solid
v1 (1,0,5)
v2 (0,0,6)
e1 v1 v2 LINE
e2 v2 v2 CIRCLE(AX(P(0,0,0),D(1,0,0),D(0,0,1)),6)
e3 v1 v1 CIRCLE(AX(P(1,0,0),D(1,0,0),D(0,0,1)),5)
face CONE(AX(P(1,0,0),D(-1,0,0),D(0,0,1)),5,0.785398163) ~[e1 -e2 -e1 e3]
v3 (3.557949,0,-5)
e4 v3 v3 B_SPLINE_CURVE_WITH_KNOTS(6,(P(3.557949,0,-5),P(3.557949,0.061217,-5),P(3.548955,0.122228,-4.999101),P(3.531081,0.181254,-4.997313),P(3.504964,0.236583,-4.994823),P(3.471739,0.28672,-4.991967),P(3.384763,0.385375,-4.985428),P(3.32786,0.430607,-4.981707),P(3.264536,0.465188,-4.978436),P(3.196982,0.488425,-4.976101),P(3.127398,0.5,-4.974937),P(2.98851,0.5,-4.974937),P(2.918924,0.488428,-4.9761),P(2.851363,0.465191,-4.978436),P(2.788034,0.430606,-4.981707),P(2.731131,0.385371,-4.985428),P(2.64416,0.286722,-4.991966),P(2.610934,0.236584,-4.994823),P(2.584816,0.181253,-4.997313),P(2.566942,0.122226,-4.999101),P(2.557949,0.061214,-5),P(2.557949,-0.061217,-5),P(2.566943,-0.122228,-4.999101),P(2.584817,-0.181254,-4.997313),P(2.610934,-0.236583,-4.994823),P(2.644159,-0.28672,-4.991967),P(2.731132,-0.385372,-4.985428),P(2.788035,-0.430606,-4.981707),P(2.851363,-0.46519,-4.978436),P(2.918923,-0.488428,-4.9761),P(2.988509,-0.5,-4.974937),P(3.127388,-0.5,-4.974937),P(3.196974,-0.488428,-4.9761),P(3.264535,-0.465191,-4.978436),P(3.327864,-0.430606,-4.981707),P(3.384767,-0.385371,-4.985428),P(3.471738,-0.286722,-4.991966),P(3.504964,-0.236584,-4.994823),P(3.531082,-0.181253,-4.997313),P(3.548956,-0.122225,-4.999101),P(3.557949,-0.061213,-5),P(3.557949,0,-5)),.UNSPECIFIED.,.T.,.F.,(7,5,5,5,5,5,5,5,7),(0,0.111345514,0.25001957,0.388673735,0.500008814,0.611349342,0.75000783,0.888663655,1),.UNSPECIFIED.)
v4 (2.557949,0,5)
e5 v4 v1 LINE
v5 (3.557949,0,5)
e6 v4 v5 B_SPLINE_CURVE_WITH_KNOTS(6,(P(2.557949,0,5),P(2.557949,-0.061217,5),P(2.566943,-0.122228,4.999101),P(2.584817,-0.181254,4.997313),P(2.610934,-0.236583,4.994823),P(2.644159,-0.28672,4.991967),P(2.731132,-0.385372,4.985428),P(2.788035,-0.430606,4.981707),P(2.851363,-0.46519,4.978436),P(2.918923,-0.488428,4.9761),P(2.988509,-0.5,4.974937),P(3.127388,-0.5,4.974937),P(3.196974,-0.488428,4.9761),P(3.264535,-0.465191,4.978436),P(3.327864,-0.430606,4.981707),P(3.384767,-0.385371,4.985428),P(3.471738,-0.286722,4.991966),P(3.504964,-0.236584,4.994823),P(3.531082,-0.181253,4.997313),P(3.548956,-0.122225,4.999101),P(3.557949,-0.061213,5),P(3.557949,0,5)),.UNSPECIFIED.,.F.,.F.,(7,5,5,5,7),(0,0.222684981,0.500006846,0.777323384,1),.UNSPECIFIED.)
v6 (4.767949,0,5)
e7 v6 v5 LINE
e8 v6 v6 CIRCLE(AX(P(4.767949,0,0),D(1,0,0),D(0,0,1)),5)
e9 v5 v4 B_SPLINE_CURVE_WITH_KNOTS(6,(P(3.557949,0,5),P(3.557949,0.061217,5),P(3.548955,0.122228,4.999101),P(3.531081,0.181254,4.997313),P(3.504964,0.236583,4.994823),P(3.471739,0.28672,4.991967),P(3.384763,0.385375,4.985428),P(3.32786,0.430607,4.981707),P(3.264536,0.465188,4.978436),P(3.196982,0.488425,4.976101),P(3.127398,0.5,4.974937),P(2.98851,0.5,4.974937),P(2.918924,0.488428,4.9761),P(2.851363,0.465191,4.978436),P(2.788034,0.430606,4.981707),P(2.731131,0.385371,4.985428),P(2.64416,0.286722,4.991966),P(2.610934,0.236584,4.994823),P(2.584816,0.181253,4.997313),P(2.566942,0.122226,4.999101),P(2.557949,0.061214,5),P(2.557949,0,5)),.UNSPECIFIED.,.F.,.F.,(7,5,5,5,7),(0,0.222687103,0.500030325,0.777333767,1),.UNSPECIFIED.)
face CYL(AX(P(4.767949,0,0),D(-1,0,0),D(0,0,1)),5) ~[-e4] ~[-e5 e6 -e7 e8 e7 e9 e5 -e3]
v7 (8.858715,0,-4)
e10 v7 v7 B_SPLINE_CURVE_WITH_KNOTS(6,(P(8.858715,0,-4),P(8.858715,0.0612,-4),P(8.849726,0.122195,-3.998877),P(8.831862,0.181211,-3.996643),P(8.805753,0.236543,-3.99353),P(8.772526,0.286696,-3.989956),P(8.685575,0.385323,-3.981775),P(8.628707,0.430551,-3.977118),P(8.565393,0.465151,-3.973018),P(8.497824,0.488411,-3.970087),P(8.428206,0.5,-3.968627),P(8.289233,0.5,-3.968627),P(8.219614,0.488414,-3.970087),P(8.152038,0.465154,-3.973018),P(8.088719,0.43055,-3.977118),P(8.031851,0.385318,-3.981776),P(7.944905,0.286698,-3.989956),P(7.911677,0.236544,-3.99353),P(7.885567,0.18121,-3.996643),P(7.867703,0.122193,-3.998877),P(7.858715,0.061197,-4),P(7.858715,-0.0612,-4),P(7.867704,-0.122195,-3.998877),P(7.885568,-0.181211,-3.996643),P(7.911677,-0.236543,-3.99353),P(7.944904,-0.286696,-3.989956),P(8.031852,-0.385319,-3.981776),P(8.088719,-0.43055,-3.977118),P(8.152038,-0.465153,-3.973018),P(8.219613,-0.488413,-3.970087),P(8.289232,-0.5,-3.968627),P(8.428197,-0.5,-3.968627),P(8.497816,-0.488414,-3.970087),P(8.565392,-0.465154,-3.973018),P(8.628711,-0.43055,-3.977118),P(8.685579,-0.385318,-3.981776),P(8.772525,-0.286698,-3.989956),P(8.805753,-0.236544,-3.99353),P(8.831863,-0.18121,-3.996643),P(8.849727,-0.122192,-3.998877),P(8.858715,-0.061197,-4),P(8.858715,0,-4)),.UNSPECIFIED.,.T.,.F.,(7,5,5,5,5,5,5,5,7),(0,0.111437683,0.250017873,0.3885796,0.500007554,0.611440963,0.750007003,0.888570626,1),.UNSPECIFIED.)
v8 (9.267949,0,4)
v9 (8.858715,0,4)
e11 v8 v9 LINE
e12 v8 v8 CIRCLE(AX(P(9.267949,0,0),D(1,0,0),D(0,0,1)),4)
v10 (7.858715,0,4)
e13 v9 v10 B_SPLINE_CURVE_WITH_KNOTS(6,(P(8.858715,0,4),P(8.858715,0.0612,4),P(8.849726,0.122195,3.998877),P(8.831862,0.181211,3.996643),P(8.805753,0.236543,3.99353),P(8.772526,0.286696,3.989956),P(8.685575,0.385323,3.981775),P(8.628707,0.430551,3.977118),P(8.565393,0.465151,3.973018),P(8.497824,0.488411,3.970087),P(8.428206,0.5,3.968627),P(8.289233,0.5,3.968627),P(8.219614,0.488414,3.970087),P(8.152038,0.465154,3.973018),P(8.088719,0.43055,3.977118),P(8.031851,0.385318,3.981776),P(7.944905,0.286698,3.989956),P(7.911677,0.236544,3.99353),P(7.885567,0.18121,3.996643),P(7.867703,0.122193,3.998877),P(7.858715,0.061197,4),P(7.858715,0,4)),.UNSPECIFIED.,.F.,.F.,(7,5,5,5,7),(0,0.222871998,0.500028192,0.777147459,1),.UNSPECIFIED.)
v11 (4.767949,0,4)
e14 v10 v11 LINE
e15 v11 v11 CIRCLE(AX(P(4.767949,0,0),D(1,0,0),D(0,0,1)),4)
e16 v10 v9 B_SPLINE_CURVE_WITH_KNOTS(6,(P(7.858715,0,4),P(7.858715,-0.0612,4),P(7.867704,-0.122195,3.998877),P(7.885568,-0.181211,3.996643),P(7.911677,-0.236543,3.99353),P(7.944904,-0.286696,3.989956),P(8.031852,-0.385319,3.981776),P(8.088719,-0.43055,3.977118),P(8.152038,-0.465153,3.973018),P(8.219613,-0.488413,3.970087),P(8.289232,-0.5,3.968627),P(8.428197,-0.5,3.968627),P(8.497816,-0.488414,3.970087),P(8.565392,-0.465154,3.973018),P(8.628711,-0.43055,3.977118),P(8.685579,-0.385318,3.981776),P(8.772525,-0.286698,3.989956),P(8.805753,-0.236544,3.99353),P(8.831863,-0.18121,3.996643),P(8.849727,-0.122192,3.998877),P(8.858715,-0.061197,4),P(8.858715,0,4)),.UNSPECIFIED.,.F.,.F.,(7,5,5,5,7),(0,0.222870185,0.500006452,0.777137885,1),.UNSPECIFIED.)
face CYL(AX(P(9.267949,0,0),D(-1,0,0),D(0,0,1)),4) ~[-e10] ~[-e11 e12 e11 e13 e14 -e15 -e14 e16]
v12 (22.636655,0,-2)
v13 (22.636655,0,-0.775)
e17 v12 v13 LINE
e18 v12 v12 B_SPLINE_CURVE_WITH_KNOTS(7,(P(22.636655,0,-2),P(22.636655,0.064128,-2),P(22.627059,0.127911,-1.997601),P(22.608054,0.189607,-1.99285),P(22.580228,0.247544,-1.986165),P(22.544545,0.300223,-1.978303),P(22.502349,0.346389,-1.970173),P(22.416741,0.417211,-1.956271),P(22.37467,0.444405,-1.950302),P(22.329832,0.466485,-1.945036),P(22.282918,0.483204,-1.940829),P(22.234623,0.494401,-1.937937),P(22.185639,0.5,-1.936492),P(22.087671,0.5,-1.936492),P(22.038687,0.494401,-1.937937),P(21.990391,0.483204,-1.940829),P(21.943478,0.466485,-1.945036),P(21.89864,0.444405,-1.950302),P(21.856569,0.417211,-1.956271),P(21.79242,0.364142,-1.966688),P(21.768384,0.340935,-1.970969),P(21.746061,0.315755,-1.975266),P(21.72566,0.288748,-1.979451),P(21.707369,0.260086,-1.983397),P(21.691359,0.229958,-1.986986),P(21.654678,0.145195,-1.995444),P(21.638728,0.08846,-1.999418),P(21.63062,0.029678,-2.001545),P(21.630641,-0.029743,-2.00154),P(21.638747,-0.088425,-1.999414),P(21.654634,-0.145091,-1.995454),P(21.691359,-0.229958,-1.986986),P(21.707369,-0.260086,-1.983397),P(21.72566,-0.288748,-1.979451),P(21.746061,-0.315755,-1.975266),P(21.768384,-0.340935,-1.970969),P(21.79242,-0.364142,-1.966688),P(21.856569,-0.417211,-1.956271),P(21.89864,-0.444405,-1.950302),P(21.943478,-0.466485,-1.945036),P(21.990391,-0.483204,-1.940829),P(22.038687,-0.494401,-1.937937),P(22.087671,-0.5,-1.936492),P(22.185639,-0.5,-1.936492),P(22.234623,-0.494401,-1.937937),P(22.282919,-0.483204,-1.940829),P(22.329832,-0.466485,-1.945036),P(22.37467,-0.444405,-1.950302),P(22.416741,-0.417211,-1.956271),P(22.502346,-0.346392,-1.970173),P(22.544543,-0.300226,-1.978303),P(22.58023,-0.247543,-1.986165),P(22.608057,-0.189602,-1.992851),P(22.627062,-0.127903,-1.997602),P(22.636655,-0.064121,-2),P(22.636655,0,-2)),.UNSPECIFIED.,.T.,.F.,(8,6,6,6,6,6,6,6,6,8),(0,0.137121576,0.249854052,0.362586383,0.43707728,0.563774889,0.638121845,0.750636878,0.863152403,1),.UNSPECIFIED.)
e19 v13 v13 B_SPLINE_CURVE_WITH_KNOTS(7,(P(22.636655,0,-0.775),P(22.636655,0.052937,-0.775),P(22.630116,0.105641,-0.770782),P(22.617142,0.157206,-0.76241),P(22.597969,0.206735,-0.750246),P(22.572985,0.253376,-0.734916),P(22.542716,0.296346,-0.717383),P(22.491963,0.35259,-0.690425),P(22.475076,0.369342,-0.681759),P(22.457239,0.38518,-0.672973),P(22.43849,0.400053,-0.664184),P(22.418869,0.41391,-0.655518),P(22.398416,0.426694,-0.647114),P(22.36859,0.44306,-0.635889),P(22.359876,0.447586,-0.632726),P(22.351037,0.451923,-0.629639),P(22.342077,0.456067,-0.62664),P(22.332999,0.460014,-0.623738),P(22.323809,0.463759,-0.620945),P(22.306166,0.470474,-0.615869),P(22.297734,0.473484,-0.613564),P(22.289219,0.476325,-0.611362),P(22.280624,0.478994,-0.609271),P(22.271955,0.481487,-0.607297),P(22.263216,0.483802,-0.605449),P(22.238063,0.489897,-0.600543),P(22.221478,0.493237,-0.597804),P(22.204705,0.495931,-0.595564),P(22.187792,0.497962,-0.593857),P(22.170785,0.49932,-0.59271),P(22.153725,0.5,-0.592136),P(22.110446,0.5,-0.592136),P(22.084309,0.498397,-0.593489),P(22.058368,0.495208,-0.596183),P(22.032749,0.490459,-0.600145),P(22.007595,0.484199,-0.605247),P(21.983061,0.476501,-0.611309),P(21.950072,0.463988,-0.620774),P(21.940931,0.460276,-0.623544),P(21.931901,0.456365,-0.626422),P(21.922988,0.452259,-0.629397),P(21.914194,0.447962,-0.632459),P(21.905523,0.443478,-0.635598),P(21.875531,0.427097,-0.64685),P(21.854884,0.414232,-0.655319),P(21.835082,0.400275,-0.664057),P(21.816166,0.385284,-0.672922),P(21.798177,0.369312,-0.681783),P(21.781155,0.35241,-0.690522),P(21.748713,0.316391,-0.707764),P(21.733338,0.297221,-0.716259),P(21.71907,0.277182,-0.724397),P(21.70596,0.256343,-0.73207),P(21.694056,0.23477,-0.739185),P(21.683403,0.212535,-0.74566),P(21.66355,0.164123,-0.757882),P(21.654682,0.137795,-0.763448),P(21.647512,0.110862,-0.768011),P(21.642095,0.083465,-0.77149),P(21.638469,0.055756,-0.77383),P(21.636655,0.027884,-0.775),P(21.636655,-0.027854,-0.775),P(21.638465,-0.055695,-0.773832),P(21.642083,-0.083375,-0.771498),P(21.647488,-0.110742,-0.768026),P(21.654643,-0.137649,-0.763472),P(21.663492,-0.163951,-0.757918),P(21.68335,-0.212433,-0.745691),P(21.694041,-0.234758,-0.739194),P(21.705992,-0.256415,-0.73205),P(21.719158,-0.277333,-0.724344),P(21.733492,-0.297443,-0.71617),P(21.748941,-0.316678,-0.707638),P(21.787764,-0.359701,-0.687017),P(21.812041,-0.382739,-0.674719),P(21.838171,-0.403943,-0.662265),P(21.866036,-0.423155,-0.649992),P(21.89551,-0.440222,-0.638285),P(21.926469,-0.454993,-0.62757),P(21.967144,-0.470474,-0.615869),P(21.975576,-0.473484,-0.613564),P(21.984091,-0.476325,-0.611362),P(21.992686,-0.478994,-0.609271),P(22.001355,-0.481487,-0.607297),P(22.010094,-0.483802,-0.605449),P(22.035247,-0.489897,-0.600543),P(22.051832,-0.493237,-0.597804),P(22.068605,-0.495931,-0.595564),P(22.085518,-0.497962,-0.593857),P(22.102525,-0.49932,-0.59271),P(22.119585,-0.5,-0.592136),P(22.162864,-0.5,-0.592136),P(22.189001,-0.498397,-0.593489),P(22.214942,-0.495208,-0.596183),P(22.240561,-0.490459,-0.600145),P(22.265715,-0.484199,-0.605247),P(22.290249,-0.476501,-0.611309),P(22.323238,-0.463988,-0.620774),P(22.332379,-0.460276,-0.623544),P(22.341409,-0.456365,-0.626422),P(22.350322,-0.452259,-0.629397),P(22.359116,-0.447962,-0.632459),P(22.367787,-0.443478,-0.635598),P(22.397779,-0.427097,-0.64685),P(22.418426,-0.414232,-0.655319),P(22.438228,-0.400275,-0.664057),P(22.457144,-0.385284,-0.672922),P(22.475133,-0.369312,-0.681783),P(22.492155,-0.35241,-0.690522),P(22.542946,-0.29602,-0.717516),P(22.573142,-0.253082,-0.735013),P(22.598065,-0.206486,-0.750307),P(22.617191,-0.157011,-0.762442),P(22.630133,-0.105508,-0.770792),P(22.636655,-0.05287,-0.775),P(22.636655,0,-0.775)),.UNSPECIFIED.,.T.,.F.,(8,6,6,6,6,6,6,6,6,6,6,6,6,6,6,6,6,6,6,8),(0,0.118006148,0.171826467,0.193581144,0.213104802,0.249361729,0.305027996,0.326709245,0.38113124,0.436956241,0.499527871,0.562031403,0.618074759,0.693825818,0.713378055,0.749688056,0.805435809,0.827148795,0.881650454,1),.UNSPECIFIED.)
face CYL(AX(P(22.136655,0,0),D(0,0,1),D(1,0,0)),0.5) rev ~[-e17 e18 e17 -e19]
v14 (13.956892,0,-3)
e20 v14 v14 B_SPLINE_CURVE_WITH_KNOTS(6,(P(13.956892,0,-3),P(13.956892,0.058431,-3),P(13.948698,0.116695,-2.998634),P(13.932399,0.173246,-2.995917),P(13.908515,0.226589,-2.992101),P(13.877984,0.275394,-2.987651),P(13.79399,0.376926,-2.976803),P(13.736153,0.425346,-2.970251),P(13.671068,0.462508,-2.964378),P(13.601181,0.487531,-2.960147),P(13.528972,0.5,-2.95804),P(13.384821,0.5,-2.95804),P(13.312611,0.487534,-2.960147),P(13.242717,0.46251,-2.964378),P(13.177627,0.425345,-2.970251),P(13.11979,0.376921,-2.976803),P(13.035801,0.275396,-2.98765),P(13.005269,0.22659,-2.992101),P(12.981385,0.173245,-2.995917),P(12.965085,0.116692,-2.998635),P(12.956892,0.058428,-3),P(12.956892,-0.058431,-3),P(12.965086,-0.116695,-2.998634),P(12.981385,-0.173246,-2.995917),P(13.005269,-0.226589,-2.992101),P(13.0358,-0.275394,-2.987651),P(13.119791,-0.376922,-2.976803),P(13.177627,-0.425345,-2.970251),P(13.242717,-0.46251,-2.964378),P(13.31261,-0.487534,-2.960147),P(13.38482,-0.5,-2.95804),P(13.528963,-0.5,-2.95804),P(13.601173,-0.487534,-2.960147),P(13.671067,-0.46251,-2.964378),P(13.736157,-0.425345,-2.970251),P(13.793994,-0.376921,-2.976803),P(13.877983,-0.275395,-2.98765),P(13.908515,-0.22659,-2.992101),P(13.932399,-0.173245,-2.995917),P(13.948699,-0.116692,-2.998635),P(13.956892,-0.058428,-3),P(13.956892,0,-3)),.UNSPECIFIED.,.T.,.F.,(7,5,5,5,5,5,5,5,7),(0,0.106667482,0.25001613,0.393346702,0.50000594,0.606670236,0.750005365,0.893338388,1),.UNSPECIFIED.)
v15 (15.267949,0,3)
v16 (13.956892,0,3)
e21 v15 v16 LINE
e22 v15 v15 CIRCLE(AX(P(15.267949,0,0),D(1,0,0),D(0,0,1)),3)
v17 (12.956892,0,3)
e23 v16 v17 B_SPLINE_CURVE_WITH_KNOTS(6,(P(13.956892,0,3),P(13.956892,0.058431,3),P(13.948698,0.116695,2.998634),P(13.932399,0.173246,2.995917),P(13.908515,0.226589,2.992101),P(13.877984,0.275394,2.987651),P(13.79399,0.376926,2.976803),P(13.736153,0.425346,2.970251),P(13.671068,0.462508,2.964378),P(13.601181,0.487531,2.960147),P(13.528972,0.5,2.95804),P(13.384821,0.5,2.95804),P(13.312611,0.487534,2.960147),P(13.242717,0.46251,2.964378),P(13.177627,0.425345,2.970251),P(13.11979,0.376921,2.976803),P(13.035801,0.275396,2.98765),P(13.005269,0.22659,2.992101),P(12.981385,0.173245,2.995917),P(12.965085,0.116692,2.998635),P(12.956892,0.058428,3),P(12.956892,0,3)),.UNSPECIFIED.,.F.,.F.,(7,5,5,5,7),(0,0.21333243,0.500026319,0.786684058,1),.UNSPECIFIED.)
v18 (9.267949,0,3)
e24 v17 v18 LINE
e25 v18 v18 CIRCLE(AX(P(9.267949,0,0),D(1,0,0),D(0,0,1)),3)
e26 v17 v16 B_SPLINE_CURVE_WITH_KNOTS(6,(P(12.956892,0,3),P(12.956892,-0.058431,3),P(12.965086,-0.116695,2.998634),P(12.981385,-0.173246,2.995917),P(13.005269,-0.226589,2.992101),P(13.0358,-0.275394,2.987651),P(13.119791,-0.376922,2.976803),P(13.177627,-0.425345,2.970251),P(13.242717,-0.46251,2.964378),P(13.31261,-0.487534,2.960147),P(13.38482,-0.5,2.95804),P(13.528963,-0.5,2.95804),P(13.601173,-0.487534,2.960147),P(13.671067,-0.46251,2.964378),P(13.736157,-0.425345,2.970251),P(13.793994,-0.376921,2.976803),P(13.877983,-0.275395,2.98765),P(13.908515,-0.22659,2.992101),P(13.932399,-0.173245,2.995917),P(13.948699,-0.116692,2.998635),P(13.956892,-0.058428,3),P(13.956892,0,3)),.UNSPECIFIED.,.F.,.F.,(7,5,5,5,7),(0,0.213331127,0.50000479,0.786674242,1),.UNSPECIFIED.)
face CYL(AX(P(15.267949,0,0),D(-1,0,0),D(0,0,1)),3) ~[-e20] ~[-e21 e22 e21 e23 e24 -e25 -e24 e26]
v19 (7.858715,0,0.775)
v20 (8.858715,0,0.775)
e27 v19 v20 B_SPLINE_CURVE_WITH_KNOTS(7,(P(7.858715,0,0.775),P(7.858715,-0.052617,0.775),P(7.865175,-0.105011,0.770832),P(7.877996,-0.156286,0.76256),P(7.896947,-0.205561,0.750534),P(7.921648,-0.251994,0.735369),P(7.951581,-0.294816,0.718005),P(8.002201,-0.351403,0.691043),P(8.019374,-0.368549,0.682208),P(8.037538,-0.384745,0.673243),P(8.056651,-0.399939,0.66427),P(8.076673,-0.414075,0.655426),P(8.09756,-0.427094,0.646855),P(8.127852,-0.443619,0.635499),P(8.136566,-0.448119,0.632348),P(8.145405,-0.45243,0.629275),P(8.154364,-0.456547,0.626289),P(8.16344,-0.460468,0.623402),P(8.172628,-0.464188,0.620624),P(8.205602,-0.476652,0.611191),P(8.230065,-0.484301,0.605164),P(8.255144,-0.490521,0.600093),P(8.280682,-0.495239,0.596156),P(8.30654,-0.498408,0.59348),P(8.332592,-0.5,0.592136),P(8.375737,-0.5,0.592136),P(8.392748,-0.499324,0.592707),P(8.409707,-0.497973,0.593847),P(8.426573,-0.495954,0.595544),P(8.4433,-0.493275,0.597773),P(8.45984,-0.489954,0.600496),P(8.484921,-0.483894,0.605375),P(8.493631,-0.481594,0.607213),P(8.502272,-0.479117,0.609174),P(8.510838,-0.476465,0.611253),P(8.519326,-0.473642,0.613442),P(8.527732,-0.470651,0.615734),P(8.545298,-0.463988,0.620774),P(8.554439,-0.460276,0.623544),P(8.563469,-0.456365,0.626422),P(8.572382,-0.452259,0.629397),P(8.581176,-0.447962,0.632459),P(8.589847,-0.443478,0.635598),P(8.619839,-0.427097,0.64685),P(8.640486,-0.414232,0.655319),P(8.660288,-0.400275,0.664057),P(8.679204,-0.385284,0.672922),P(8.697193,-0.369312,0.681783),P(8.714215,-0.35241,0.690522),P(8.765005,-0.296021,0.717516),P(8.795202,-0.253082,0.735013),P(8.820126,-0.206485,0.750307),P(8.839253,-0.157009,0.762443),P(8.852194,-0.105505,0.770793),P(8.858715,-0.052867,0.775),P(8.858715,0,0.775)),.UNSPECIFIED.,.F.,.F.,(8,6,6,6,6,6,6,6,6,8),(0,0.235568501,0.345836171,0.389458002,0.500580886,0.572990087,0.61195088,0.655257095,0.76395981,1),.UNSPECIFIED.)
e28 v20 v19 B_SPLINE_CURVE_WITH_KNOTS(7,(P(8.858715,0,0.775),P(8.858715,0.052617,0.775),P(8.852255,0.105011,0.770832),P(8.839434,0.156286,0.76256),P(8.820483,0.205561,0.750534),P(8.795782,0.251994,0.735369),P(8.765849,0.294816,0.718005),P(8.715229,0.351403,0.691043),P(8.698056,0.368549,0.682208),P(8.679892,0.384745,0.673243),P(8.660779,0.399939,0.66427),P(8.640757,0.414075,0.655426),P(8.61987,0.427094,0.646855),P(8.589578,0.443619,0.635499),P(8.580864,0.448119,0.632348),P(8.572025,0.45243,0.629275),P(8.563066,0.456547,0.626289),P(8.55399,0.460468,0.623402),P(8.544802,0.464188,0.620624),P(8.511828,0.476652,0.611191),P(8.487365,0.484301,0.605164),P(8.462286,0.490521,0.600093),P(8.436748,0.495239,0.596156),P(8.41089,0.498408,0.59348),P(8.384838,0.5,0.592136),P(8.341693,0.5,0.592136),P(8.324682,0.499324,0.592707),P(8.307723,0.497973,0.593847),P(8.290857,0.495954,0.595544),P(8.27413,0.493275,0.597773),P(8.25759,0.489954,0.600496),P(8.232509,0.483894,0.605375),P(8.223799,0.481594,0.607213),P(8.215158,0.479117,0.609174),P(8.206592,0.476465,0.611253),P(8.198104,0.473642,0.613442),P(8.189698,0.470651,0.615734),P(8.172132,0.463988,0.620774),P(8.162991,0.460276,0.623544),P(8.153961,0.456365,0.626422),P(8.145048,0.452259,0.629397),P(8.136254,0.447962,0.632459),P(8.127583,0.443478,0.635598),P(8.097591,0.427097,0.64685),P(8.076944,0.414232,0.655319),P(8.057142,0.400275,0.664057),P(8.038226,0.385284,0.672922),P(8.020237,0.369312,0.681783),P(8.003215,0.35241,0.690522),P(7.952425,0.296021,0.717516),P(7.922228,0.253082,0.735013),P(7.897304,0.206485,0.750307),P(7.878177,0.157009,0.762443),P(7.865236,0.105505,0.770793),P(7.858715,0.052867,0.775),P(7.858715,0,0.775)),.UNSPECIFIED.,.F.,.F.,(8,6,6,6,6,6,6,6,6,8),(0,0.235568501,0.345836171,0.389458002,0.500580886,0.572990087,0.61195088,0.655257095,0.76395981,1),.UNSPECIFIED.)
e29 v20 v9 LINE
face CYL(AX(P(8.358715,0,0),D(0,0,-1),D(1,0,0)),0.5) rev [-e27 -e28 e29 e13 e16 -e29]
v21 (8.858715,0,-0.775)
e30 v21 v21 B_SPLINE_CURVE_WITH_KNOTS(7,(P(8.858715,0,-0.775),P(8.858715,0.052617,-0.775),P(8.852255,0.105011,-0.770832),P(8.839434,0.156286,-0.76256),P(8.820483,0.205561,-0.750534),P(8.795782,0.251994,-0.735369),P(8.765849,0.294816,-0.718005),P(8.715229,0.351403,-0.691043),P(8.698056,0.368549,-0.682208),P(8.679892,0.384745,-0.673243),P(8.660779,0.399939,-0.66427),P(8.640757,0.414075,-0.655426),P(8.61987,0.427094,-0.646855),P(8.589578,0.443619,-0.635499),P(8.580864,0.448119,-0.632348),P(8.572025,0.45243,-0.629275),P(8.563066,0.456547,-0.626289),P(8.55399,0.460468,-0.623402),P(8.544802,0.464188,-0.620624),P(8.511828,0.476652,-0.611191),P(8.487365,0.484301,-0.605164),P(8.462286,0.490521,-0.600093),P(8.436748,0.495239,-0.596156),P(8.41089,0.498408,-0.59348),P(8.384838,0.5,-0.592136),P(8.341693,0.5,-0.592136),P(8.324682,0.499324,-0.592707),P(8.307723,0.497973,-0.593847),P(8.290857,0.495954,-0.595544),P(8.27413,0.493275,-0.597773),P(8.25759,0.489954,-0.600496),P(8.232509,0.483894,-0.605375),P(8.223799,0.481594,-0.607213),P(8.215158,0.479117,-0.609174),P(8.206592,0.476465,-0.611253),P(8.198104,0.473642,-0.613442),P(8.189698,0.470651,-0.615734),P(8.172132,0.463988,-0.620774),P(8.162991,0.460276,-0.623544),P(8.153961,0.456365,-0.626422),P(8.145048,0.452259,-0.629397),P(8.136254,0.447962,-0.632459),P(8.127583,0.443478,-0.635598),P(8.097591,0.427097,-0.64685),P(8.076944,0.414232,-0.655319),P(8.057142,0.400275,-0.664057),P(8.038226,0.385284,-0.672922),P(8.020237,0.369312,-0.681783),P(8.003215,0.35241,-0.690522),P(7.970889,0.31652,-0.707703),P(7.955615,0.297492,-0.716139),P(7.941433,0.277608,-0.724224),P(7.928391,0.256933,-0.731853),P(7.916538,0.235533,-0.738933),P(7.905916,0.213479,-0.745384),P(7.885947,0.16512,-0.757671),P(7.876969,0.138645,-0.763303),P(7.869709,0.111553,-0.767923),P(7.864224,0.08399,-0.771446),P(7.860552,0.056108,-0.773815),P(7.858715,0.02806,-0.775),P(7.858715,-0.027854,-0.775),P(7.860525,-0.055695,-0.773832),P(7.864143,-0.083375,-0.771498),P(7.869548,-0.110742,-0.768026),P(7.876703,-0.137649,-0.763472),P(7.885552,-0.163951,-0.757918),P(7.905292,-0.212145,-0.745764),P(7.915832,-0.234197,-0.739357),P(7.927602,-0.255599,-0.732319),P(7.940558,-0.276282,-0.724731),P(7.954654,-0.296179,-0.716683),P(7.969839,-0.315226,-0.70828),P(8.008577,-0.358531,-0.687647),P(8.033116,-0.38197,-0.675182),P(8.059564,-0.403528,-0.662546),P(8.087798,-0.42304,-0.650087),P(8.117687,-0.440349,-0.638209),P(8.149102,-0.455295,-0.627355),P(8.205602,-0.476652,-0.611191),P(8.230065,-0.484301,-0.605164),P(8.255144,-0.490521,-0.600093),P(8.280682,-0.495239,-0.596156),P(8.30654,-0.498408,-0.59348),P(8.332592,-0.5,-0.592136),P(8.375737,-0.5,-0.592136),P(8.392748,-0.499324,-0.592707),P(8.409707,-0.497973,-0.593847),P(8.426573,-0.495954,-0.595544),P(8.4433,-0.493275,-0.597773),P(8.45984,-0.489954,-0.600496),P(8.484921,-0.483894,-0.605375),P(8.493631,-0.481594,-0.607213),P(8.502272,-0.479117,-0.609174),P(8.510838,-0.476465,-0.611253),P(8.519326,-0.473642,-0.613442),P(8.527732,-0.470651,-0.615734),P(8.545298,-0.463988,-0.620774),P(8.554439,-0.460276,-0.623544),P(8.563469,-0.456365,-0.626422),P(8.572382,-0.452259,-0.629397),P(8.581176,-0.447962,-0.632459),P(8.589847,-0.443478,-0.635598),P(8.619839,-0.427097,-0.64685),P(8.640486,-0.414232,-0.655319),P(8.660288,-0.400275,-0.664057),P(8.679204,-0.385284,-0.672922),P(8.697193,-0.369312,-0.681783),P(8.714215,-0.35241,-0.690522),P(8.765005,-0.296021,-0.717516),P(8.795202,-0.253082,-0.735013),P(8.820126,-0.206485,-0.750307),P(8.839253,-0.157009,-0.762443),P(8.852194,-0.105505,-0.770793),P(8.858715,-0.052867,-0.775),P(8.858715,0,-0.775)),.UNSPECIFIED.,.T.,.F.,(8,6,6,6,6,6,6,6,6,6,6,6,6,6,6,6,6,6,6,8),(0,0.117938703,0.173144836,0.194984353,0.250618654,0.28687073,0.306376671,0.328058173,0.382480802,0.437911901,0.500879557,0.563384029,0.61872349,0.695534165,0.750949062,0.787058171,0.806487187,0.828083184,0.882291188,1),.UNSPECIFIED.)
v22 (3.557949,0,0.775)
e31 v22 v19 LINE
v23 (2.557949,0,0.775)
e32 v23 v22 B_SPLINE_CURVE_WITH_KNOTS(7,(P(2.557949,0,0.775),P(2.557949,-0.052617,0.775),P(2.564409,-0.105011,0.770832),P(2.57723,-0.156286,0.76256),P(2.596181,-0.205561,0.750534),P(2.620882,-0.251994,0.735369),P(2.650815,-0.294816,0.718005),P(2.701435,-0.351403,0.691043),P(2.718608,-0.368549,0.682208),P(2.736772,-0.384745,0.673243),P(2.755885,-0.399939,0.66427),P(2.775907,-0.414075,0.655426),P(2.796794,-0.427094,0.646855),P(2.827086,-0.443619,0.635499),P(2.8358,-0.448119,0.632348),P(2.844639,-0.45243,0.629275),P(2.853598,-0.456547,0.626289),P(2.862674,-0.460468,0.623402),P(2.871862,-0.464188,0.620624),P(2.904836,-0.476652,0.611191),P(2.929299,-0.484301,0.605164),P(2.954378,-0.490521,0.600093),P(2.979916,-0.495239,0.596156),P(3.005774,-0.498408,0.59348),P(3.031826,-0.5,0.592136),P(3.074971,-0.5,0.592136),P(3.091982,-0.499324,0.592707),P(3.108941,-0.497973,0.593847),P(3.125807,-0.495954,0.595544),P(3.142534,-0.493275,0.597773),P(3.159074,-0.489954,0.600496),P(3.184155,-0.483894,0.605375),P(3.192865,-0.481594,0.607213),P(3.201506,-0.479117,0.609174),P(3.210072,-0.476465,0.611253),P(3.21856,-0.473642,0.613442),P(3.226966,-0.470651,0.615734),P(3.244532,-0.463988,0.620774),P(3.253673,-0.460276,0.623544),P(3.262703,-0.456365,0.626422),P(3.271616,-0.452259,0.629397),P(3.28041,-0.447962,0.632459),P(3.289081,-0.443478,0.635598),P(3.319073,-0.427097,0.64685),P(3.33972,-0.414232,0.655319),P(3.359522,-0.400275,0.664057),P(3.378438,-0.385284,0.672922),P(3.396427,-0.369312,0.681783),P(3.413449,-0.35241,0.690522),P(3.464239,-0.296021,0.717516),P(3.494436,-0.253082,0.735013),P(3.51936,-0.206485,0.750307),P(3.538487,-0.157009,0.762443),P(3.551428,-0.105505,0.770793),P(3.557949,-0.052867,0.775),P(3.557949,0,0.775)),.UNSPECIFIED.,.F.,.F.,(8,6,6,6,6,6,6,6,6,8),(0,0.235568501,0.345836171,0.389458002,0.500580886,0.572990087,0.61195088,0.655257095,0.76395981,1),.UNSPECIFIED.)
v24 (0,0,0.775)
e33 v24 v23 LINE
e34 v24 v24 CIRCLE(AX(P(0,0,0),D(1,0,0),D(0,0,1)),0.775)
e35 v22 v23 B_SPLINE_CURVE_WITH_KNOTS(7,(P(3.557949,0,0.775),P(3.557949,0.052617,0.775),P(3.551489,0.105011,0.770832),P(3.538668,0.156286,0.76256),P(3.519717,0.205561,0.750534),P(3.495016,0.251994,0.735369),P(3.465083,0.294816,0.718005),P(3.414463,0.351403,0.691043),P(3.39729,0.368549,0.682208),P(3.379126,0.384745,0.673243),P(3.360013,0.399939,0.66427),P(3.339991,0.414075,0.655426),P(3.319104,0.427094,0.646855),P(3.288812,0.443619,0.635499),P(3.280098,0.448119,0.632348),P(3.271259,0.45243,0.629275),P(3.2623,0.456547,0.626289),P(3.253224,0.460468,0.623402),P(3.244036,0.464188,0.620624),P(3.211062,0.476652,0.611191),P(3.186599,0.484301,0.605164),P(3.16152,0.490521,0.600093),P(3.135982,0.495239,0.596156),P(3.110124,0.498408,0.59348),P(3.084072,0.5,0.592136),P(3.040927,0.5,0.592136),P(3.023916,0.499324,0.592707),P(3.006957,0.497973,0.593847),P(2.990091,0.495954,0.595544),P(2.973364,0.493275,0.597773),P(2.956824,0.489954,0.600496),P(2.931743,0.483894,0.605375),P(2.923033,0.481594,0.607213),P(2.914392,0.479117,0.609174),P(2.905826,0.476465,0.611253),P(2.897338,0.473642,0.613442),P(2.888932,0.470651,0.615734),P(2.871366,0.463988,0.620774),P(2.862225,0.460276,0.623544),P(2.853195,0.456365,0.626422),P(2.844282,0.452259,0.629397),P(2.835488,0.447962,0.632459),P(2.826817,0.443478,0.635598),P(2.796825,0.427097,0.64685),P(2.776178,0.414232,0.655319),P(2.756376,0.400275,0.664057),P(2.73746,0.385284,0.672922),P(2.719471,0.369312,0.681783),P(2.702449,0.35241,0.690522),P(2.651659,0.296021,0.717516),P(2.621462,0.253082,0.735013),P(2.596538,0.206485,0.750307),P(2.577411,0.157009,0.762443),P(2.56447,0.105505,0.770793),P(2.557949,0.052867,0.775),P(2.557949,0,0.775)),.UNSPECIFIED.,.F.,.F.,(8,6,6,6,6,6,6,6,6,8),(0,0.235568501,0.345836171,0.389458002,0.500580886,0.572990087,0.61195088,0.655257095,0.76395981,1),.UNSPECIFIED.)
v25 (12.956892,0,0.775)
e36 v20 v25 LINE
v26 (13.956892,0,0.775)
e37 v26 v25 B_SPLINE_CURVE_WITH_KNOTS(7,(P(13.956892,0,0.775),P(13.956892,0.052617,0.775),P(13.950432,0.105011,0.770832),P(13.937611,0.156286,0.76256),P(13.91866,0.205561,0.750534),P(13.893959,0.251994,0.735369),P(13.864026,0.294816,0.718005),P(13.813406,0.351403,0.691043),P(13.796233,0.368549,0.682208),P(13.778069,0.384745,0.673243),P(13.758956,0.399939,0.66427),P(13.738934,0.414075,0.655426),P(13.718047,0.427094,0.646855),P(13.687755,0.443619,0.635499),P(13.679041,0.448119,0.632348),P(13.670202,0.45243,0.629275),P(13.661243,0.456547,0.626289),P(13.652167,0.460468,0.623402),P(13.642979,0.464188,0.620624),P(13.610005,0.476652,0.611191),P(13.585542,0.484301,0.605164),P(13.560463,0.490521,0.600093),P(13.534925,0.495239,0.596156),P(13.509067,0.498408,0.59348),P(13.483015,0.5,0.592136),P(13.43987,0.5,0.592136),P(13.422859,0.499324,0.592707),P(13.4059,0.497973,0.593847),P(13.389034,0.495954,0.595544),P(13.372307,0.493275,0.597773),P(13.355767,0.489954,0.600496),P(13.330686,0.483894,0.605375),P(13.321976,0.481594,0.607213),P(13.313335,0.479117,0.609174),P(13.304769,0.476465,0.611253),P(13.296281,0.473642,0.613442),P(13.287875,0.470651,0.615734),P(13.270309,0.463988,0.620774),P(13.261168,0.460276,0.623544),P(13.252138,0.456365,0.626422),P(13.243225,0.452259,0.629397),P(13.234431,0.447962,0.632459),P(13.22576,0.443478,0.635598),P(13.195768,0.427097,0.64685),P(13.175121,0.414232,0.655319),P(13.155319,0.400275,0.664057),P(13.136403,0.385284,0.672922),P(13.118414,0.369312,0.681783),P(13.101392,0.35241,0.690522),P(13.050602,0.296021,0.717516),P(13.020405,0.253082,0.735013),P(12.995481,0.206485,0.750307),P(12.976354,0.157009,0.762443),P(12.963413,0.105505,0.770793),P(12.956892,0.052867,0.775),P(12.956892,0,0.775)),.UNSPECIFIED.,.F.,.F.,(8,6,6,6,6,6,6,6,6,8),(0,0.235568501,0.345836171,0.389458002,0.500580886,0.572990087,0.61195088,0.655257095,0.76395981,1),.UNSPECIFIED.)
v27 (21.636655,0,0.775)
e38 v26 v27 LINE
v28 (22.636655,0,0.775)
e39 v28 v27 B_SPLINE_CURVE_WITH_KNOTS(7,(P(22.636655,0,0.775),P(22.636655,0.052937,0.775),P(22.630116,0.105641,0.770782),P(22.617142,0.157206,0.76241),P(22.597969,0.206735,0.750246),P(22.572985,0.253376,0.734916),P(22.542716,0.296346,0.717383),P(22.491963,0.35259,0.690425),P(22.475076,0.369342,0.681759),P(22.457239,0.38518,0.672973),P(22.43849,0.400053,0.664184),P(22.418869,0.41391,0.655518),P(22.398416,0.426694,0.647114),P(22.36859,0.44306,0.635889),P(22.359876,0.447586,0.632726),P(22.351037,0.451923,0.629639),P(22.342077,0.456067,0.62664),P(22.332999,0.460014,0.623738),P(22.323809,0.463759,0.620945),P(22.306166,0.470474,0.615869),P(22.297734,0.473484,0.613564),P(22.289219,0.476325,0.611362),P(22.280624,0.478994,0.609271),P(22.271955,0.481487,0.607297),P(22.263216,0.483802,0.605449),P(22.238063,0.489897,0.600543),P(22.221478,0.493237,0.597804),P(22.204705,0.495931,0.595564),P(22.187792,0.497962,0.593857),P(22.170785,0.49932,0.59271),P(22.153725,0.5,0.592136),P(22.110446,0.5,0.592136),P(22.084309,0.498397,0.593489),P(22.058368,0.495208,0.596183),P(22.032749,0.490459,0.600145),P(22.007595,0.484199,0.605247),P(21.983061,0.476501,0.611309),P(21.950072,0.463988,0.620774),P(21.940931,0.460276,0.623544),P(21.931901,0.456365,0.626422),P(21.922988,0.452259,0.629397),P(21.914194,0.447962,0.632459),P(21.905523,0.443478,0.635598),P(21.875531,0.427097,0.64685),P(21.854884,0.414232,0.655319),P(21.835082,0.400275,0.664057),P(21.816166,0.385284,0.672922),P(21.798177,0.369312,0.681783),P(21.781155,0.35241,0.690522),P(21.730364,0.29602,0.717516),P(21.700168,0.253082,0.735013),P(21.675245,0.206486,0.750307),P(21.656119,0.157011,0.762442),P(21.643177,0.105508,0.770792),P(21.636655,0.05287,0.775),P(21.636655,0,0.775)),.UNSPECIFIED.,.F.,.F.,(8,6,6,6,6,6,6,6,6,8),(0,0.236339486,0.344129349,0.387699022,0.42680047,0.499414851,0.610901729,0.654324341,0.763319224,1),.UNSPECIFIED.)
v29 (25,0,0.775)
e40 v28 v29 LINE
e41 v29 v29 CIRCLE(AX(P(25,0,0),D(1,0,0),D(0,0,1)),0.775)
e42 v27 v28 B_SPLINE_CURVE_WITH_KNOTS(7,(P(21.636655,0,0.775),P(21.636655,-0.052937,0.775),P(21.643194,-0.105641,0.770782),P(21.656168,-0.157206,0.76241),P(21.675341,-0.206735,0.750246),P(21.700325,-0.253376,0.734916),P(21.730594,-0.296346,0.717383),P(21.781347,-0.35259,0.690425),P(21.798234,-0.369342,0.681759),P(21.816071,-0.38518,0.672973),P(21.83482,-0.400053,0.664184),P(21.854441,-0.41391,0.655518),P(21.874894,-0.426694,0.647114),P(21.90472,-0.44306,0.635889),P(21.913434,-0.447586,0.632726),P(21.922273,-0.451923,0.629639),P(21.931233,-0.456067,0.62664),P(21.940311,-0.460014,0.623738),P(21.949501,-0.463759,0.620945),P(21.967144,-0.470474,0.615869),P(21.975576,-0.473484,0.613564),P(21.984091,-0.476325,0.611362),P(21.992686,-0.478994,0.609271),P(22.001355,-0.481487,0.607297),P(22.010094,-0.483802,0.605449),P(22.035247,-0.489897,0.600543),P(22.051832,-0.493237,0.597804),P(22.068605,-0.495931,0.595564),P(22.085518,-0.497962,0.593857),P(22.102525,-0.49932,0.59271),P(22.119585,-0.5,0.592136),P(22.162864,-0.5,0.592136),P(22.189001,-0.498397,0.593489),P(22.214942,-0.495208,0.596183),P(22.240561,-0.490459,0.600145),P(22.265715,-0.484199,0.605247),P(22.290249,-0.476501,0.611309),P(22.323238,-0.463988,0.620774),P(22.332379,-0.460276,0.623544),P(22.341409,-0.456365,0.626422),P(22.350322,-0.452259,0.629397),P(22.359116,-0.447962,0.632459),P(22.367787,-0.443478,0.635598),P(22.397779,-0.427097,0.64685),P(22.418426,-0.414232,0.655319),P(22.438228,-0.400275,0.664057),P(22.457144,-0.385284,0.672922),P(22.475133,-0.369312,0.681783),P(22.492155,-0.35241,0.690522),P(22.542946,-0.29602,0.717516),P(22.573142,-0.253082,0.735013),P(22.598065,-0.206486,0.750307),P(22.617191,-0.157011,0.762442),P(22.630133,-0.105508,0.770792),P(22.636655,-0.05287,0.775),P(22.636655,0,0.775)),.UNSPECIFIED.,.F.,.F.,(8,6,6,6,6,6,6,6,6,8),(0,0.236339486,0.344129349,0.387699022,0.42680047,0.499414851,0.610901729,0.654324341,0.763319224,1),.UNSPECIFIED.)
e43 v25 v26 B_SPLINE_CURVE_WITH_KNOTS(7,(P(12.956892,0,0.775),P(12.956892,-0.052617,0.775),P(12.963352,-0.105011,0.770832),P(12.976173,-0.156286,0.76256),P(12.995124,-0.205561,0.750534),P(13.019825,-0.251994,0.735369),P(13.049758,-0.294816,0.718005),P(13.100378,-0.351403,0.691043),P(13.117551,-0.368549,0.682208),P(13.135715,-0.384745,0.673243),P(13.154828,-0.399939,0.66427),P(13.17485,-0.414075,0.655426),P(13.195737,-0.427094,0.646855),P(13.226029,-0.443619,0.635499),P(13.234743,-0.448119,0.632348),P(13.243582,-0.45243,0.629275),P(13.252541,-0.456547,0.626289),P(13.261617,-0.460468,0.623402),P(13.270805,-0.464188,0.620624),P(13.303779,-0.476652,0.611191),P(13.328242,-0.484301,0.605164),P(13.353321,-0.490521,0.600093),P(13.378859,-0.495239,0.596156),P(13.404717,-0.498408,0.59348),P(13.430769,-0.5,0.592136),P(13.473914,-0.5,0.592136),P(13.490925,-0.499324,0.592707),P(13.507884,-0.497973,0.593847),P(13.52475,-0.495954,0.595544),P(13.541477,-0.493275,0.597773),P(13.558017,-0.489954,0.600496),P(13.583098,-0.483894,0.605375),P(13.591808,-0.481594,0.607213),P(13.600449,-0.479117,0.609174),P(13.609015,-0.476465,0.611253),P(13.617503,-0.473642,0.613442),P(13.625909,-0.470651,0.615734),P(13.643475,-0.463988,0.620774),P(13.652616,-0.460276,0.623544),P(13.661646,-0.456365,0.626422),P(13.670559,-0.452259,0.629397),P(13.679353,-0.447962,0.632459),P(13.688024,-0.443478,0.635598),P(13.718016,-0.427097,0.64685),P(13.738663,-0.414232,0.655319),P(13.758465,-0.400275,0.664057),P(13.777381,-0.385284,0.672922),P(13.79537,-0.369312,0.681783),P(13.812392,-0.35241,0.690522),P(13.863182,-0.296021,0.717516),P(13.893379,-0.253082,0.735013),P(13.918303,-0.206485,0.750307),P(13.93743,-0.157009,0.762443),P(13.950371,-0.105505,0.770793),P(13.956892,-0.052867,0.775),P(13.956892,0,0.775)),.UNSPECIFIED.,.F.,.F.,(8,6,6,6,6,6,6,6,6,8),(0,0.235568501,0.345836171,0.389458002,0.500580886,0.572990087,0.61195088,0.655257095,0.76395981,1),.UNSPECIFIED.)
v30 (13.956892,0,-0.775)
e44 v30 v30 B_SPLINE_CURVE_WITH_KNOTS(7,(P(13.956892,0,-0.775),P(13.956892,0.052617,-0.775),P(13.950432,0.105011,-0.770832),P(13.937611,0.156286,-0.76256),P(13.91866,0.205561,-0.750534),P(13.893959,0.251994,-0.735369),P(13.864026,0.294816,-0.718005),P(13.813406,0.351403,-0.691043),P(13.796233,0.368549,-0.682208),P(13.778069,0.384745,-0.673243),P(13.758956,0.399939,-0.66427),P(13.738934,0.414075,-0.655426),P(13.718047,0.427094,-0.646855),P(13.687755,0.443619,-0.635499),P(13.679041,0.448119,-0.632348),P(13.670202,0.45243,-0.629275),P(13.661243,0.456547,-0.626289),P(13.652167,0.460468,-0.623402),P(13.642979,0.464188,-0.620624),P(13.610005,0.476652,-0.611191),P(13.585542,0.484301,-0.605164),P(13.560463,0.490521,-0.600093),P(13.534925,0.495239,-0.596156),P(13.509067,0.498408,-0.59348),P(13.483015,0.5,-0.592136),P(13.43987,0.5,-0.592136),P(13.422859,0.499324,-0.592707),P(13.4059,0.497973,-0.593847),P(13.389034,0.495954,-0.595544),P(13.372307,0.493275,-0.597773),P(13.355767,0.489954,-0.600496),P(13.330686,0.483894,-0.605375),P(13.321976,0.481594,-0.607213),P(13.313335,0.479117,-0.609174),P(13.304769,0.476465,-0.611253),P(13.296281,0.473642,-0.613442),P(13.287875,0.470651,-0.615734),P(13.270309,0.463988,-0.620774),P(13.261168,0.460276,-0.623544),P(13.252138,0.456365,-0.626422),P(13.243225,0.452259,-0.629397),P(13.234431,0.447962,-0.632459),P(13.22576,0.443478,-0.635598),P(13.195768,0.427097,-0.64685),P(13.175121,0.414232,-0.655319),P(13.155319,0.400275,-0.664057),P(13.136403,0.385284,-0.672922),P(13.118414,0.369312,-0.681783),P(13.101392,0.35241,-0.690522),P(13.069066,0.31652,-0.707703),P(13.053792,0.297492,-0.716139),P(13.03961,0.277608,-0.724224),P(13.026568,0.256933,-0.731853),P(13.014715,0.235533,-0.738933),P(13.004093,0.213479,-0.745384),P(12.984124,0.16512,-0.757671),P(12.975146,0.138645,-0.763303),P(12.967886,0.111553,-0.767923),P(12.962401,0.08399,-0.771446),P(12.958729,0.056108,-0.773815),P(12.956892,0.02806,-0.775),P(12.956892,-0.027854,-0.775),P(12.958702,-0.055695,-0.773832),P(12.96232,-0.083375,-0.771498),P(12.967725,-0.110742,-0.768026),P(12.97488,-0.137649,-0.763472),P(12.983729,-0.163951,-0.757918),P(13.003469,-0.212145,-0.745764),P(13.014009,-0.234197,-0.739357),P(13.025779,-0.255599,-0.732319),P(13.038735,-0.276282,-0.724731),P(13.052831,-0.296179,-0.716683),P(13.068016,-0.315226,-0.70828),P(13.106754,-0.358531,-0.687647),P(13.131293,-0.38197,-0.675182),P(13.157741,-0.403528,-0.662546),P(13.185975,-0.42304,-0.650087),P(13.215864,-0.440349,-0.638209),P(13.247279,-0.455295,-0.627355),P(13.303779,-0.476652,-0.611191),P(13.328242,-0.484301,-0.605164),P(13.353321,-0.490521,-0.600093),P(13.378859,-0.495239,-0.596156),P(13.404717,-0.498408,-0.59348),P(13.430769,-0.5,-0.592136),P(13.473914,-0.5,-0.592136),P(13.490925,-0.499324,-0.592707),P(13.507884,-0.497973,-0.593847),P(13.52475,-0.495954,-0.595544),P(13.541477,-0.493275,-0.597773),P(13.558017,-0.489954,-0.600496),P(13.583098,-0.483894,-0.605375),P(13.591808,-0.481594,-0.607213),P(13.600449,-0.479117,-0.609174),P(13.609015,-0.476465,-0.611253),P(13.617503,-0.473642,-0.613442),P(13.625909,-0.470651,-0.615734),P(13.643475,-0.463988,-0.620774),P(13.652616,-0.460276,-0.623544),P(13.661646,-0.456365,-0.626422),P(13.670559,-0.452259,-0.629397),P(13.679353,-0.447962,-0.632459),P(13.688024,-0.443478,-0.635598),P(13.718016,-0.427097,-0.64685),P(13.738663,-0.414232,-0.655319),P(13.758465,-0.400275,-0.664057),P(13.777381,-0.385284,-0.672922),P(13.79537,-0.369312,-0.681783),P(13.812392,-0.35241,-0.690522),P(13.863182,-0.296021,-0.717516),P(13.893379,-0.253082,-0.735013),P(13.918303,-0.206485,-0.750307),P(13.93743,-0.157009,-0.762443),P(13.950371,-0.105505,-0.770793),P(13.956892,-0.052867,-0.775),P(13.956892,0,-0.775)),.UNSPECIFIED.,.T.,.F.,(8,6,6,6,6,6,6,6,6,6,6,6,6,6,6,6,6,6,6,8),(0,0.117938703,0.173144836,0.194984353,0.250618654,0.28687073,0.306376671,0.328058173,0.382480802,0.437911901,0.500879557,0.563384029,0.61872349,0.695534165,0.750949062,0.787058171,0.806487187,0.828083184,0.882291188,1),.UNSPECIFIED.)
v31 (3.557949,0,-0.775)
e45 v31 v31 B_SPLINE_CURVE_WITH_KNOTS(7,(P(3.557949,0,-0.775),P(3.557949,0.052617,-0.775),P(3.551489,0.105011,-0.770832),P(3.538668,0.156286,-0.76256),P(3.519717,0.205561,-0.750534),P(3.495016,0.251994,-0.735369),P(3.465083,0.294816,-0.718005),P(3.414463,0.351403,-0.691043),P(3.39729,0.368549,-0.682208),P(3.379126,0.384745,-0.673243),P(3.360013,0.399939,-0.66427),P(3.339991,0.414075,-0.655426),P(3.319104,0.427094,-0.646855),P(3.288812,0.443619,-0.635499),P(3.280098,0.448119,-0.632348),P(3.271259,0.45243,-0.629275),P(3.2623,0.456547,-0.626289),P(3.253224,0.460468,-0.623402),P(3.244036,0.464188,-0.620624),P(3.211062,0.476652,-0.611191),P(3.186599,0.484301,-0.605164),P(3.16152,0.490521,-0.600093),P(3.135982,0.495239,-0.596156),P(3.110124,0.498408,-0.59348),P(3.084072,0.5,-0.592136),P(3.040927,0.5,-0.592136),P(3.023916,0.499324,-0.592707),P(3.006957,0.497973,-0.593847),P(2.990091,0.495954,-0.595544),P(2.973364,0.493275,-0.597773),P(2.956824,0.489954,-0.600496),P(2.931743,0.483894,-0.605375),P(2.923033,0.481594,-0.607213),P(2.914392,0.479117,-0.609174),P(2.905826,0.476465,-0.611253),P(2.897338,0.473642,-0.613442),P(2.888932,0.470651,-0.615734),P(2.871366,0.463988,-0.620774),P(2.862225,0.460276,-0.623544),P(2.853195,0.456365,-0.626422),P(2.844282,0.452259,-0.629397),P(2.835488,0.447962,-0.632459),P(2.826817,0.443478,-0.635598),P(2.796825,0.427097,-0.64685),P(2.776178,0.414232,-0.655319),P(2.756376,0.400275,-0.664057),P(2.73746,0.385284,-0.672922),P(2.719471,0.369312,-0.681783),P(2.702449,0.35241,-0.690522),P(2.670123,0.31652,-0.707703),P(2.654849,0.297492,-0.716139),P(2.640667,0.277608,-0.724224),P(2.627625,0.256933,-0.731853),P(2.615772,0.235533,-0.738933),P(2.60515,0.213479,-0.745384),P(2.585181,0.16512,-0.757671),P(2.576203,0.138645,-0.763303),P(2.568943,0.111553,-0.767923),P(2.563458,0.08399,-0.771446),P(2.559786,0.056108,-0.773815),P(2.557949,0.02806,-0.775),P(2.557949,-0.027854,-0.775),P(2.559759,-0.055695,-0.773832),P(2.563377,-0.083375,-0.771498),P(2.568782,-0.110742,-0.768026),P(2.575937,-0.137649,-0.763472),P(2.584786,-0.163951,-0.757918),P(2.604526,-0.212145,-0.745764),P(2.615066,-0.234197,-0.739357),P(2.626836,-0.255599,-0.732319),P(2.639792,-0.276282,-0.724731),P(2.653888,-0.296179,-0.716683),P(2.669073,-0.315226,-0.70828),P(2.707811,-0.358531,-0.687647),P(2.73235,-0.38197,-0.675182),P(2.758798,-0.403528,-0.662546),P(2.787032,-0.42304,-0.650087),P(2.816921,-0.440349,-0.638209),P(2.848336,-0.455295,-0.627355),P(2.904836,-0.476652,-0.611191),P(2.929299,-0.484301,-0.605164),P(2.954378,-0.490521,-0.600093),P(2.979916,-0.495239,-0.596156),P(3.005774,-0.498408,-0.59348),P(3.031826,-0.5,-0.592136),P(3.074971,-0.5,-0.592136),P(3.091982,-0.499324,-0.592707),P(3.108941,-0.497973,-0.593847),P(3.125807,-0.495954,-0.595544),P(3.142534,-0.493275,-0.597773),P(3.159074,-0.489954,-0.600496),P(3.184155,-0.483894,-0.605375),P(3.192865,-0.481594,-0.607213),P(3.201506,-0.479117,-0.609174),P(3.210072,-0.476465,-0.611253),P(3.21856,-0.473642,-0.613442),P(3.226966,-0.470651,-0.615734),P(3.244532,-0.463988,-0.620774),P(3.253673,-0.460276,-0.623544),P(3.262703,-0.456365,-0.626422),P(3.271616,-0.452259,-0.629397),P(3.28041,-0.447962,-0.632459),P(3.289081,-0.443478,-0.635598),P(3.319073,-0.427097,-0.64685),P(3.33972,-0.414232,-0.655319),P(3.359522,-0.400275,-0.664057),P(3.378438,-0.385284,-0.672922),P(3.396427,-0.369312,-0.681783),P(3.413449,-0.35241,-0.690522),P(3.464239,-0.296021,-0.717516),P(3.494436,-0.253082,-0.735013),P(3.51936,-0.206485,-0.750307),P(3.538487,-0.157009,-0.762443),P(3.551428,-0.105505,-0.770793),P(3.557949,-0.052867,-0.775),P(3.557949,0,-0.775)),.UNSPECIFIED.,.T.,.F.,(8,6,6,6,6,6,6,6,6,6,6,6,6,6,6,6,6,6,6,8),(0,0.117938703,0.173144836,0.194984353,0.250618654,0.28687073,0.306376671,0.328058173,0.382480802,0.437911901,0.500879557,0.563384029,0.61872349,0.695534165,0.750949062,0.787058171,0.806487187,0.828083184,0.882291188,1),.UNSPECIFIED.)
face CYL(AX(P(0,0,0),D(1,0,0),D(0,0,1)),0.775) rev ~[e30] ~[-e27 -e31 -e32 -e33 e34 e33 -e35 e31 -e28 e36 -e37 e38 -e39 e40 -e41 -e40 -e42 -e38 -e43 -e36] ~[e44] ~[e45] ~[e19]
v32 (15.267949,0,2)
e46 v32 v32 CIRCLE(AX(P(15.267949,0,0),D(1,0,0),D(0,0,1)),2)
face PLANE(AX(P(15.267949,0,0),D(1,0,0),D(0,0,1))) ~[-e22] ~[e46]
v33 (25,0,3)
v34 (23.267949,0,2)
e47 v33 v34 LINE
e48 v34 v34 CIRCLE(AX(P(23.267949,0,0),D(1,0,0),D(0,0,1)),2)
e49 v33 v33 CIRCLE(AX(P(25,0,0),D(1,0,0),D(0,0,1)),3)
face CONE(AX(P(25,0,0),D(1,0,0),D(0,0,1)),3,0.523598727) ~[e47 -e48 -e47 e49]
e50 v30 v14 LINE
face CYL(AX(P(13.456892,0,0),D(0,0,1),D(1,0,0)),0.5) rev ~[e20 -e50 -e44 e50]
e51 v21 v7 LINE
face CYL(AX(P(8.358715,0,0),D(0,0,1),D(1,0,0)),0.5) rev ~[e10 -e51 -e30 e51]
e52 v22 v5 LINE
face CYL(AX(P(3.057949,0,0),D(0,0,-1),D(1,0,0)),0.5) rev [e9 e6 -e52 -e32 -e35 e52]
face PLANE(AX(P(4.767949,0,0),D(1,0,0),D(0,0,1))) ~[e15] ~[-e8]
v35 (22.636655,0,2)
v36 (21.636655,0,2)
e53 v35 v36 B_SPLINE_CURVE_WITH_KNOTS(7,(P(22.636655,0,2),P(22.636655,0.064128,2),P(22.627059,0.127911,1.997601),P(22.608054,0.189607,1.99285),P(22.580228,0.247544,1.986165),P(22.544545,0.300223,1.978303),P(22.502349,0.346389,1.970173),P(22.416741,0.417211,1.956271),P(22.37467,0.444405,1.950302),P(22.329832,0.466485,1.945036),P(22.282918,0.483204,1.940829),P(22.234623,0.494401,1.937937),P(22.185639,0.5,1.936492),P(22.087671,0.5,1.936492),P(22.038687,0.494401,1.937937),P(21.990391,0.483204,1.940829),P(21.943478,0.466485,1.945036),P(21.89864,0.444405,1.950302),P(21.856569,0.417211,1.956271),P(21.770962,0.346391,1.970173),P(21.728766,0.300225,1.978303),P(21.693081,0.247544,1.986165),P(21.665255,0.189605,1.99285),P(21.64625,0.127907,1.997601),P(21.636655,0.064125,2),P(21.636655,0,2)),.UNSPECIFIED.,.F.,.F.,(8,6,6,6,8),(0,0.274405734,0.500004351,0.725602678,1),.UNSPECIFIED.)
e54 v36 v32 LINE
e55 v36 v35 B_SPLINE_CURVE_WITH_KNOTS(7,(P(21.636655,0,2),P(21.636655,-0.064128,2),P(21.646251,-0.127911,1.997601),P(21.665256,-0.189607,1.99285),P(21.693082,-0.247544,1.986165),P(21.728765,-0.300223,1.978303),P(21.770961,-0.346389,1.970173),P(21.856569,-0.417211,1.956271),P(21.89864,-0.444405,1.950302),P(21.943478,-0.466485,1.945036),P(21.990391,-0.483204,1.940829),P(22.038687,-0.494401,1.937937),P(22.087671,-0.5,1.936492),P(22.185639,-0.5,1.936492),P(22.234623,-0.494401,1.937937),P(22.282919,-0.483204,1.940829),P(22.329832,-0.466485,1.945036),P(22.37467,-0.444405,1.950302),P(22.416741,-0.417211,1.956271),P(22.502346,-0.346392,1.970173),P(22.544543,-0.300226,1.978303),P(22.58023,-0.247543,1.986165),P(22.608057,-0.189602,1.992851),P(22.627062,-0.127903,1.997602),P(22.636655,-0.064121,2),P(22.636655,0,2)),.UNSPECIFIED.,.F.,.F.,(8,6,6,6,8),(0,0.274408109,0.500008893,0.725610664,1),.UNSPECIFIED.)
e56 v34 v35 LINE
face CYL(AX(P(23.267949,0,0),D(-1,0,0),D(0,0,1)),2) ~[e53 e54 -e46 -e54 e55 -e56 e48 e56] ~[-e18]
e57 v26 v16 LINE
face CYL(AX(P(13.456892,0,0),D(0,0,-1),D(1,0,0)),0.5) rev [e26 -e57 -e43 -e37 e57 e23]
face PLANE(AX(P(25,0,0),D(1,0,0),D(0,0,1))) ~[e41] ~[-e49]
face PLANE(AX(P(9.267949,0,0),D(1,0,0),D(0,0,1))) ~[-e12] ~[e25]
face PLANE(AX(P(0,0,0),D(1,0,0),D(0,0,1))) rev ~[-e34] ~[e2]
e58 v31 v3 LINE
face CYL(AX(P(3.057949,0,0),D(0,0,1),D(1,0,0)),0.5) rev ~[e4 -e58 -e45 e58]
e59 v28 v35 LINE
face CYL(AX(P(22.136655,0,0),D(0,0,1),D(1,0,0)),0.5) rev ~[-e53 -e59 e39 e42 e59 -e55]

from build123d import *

# Parameters (mm, degrees)
F2_R     = 0.5
F3_DEPTH = 12.5


with BuildPart() as f1:
    # F0 (on Front) → F1 (revolve)
    with BuildSketch(Plane.XZ):
        Polygon((1, 5), (0, 6), (0, 0.775), (25, 0.775), (25, 3), (23.267949, 2), (15.267949, 2), (15.267949, 3), (9.267949, 3), (9.267949, 4), (4.767949, 4), (4.767949, 5), align=None)
    revolve(axis=Axis((6.044726, 0, 0), (1, 0, 0)))

    # F2 (on Top) → F3 (cut, symmetric)
    with BuildSketch(Plane.XY):
        with Locations((3.057949, 0)):
            Circle(F2_R)
        with Locations((8.358715, 0)):
            Circle(F2_R)
        with Locations((13.456892, 0)):
            Circle(F2_R)
        with Locations((22.136655, 0)):
            Circle(F2_R)
    extrude(amount=F3_DEPTH, both=True, mode=Mode.SUBTRACT)


solid = f1.part
